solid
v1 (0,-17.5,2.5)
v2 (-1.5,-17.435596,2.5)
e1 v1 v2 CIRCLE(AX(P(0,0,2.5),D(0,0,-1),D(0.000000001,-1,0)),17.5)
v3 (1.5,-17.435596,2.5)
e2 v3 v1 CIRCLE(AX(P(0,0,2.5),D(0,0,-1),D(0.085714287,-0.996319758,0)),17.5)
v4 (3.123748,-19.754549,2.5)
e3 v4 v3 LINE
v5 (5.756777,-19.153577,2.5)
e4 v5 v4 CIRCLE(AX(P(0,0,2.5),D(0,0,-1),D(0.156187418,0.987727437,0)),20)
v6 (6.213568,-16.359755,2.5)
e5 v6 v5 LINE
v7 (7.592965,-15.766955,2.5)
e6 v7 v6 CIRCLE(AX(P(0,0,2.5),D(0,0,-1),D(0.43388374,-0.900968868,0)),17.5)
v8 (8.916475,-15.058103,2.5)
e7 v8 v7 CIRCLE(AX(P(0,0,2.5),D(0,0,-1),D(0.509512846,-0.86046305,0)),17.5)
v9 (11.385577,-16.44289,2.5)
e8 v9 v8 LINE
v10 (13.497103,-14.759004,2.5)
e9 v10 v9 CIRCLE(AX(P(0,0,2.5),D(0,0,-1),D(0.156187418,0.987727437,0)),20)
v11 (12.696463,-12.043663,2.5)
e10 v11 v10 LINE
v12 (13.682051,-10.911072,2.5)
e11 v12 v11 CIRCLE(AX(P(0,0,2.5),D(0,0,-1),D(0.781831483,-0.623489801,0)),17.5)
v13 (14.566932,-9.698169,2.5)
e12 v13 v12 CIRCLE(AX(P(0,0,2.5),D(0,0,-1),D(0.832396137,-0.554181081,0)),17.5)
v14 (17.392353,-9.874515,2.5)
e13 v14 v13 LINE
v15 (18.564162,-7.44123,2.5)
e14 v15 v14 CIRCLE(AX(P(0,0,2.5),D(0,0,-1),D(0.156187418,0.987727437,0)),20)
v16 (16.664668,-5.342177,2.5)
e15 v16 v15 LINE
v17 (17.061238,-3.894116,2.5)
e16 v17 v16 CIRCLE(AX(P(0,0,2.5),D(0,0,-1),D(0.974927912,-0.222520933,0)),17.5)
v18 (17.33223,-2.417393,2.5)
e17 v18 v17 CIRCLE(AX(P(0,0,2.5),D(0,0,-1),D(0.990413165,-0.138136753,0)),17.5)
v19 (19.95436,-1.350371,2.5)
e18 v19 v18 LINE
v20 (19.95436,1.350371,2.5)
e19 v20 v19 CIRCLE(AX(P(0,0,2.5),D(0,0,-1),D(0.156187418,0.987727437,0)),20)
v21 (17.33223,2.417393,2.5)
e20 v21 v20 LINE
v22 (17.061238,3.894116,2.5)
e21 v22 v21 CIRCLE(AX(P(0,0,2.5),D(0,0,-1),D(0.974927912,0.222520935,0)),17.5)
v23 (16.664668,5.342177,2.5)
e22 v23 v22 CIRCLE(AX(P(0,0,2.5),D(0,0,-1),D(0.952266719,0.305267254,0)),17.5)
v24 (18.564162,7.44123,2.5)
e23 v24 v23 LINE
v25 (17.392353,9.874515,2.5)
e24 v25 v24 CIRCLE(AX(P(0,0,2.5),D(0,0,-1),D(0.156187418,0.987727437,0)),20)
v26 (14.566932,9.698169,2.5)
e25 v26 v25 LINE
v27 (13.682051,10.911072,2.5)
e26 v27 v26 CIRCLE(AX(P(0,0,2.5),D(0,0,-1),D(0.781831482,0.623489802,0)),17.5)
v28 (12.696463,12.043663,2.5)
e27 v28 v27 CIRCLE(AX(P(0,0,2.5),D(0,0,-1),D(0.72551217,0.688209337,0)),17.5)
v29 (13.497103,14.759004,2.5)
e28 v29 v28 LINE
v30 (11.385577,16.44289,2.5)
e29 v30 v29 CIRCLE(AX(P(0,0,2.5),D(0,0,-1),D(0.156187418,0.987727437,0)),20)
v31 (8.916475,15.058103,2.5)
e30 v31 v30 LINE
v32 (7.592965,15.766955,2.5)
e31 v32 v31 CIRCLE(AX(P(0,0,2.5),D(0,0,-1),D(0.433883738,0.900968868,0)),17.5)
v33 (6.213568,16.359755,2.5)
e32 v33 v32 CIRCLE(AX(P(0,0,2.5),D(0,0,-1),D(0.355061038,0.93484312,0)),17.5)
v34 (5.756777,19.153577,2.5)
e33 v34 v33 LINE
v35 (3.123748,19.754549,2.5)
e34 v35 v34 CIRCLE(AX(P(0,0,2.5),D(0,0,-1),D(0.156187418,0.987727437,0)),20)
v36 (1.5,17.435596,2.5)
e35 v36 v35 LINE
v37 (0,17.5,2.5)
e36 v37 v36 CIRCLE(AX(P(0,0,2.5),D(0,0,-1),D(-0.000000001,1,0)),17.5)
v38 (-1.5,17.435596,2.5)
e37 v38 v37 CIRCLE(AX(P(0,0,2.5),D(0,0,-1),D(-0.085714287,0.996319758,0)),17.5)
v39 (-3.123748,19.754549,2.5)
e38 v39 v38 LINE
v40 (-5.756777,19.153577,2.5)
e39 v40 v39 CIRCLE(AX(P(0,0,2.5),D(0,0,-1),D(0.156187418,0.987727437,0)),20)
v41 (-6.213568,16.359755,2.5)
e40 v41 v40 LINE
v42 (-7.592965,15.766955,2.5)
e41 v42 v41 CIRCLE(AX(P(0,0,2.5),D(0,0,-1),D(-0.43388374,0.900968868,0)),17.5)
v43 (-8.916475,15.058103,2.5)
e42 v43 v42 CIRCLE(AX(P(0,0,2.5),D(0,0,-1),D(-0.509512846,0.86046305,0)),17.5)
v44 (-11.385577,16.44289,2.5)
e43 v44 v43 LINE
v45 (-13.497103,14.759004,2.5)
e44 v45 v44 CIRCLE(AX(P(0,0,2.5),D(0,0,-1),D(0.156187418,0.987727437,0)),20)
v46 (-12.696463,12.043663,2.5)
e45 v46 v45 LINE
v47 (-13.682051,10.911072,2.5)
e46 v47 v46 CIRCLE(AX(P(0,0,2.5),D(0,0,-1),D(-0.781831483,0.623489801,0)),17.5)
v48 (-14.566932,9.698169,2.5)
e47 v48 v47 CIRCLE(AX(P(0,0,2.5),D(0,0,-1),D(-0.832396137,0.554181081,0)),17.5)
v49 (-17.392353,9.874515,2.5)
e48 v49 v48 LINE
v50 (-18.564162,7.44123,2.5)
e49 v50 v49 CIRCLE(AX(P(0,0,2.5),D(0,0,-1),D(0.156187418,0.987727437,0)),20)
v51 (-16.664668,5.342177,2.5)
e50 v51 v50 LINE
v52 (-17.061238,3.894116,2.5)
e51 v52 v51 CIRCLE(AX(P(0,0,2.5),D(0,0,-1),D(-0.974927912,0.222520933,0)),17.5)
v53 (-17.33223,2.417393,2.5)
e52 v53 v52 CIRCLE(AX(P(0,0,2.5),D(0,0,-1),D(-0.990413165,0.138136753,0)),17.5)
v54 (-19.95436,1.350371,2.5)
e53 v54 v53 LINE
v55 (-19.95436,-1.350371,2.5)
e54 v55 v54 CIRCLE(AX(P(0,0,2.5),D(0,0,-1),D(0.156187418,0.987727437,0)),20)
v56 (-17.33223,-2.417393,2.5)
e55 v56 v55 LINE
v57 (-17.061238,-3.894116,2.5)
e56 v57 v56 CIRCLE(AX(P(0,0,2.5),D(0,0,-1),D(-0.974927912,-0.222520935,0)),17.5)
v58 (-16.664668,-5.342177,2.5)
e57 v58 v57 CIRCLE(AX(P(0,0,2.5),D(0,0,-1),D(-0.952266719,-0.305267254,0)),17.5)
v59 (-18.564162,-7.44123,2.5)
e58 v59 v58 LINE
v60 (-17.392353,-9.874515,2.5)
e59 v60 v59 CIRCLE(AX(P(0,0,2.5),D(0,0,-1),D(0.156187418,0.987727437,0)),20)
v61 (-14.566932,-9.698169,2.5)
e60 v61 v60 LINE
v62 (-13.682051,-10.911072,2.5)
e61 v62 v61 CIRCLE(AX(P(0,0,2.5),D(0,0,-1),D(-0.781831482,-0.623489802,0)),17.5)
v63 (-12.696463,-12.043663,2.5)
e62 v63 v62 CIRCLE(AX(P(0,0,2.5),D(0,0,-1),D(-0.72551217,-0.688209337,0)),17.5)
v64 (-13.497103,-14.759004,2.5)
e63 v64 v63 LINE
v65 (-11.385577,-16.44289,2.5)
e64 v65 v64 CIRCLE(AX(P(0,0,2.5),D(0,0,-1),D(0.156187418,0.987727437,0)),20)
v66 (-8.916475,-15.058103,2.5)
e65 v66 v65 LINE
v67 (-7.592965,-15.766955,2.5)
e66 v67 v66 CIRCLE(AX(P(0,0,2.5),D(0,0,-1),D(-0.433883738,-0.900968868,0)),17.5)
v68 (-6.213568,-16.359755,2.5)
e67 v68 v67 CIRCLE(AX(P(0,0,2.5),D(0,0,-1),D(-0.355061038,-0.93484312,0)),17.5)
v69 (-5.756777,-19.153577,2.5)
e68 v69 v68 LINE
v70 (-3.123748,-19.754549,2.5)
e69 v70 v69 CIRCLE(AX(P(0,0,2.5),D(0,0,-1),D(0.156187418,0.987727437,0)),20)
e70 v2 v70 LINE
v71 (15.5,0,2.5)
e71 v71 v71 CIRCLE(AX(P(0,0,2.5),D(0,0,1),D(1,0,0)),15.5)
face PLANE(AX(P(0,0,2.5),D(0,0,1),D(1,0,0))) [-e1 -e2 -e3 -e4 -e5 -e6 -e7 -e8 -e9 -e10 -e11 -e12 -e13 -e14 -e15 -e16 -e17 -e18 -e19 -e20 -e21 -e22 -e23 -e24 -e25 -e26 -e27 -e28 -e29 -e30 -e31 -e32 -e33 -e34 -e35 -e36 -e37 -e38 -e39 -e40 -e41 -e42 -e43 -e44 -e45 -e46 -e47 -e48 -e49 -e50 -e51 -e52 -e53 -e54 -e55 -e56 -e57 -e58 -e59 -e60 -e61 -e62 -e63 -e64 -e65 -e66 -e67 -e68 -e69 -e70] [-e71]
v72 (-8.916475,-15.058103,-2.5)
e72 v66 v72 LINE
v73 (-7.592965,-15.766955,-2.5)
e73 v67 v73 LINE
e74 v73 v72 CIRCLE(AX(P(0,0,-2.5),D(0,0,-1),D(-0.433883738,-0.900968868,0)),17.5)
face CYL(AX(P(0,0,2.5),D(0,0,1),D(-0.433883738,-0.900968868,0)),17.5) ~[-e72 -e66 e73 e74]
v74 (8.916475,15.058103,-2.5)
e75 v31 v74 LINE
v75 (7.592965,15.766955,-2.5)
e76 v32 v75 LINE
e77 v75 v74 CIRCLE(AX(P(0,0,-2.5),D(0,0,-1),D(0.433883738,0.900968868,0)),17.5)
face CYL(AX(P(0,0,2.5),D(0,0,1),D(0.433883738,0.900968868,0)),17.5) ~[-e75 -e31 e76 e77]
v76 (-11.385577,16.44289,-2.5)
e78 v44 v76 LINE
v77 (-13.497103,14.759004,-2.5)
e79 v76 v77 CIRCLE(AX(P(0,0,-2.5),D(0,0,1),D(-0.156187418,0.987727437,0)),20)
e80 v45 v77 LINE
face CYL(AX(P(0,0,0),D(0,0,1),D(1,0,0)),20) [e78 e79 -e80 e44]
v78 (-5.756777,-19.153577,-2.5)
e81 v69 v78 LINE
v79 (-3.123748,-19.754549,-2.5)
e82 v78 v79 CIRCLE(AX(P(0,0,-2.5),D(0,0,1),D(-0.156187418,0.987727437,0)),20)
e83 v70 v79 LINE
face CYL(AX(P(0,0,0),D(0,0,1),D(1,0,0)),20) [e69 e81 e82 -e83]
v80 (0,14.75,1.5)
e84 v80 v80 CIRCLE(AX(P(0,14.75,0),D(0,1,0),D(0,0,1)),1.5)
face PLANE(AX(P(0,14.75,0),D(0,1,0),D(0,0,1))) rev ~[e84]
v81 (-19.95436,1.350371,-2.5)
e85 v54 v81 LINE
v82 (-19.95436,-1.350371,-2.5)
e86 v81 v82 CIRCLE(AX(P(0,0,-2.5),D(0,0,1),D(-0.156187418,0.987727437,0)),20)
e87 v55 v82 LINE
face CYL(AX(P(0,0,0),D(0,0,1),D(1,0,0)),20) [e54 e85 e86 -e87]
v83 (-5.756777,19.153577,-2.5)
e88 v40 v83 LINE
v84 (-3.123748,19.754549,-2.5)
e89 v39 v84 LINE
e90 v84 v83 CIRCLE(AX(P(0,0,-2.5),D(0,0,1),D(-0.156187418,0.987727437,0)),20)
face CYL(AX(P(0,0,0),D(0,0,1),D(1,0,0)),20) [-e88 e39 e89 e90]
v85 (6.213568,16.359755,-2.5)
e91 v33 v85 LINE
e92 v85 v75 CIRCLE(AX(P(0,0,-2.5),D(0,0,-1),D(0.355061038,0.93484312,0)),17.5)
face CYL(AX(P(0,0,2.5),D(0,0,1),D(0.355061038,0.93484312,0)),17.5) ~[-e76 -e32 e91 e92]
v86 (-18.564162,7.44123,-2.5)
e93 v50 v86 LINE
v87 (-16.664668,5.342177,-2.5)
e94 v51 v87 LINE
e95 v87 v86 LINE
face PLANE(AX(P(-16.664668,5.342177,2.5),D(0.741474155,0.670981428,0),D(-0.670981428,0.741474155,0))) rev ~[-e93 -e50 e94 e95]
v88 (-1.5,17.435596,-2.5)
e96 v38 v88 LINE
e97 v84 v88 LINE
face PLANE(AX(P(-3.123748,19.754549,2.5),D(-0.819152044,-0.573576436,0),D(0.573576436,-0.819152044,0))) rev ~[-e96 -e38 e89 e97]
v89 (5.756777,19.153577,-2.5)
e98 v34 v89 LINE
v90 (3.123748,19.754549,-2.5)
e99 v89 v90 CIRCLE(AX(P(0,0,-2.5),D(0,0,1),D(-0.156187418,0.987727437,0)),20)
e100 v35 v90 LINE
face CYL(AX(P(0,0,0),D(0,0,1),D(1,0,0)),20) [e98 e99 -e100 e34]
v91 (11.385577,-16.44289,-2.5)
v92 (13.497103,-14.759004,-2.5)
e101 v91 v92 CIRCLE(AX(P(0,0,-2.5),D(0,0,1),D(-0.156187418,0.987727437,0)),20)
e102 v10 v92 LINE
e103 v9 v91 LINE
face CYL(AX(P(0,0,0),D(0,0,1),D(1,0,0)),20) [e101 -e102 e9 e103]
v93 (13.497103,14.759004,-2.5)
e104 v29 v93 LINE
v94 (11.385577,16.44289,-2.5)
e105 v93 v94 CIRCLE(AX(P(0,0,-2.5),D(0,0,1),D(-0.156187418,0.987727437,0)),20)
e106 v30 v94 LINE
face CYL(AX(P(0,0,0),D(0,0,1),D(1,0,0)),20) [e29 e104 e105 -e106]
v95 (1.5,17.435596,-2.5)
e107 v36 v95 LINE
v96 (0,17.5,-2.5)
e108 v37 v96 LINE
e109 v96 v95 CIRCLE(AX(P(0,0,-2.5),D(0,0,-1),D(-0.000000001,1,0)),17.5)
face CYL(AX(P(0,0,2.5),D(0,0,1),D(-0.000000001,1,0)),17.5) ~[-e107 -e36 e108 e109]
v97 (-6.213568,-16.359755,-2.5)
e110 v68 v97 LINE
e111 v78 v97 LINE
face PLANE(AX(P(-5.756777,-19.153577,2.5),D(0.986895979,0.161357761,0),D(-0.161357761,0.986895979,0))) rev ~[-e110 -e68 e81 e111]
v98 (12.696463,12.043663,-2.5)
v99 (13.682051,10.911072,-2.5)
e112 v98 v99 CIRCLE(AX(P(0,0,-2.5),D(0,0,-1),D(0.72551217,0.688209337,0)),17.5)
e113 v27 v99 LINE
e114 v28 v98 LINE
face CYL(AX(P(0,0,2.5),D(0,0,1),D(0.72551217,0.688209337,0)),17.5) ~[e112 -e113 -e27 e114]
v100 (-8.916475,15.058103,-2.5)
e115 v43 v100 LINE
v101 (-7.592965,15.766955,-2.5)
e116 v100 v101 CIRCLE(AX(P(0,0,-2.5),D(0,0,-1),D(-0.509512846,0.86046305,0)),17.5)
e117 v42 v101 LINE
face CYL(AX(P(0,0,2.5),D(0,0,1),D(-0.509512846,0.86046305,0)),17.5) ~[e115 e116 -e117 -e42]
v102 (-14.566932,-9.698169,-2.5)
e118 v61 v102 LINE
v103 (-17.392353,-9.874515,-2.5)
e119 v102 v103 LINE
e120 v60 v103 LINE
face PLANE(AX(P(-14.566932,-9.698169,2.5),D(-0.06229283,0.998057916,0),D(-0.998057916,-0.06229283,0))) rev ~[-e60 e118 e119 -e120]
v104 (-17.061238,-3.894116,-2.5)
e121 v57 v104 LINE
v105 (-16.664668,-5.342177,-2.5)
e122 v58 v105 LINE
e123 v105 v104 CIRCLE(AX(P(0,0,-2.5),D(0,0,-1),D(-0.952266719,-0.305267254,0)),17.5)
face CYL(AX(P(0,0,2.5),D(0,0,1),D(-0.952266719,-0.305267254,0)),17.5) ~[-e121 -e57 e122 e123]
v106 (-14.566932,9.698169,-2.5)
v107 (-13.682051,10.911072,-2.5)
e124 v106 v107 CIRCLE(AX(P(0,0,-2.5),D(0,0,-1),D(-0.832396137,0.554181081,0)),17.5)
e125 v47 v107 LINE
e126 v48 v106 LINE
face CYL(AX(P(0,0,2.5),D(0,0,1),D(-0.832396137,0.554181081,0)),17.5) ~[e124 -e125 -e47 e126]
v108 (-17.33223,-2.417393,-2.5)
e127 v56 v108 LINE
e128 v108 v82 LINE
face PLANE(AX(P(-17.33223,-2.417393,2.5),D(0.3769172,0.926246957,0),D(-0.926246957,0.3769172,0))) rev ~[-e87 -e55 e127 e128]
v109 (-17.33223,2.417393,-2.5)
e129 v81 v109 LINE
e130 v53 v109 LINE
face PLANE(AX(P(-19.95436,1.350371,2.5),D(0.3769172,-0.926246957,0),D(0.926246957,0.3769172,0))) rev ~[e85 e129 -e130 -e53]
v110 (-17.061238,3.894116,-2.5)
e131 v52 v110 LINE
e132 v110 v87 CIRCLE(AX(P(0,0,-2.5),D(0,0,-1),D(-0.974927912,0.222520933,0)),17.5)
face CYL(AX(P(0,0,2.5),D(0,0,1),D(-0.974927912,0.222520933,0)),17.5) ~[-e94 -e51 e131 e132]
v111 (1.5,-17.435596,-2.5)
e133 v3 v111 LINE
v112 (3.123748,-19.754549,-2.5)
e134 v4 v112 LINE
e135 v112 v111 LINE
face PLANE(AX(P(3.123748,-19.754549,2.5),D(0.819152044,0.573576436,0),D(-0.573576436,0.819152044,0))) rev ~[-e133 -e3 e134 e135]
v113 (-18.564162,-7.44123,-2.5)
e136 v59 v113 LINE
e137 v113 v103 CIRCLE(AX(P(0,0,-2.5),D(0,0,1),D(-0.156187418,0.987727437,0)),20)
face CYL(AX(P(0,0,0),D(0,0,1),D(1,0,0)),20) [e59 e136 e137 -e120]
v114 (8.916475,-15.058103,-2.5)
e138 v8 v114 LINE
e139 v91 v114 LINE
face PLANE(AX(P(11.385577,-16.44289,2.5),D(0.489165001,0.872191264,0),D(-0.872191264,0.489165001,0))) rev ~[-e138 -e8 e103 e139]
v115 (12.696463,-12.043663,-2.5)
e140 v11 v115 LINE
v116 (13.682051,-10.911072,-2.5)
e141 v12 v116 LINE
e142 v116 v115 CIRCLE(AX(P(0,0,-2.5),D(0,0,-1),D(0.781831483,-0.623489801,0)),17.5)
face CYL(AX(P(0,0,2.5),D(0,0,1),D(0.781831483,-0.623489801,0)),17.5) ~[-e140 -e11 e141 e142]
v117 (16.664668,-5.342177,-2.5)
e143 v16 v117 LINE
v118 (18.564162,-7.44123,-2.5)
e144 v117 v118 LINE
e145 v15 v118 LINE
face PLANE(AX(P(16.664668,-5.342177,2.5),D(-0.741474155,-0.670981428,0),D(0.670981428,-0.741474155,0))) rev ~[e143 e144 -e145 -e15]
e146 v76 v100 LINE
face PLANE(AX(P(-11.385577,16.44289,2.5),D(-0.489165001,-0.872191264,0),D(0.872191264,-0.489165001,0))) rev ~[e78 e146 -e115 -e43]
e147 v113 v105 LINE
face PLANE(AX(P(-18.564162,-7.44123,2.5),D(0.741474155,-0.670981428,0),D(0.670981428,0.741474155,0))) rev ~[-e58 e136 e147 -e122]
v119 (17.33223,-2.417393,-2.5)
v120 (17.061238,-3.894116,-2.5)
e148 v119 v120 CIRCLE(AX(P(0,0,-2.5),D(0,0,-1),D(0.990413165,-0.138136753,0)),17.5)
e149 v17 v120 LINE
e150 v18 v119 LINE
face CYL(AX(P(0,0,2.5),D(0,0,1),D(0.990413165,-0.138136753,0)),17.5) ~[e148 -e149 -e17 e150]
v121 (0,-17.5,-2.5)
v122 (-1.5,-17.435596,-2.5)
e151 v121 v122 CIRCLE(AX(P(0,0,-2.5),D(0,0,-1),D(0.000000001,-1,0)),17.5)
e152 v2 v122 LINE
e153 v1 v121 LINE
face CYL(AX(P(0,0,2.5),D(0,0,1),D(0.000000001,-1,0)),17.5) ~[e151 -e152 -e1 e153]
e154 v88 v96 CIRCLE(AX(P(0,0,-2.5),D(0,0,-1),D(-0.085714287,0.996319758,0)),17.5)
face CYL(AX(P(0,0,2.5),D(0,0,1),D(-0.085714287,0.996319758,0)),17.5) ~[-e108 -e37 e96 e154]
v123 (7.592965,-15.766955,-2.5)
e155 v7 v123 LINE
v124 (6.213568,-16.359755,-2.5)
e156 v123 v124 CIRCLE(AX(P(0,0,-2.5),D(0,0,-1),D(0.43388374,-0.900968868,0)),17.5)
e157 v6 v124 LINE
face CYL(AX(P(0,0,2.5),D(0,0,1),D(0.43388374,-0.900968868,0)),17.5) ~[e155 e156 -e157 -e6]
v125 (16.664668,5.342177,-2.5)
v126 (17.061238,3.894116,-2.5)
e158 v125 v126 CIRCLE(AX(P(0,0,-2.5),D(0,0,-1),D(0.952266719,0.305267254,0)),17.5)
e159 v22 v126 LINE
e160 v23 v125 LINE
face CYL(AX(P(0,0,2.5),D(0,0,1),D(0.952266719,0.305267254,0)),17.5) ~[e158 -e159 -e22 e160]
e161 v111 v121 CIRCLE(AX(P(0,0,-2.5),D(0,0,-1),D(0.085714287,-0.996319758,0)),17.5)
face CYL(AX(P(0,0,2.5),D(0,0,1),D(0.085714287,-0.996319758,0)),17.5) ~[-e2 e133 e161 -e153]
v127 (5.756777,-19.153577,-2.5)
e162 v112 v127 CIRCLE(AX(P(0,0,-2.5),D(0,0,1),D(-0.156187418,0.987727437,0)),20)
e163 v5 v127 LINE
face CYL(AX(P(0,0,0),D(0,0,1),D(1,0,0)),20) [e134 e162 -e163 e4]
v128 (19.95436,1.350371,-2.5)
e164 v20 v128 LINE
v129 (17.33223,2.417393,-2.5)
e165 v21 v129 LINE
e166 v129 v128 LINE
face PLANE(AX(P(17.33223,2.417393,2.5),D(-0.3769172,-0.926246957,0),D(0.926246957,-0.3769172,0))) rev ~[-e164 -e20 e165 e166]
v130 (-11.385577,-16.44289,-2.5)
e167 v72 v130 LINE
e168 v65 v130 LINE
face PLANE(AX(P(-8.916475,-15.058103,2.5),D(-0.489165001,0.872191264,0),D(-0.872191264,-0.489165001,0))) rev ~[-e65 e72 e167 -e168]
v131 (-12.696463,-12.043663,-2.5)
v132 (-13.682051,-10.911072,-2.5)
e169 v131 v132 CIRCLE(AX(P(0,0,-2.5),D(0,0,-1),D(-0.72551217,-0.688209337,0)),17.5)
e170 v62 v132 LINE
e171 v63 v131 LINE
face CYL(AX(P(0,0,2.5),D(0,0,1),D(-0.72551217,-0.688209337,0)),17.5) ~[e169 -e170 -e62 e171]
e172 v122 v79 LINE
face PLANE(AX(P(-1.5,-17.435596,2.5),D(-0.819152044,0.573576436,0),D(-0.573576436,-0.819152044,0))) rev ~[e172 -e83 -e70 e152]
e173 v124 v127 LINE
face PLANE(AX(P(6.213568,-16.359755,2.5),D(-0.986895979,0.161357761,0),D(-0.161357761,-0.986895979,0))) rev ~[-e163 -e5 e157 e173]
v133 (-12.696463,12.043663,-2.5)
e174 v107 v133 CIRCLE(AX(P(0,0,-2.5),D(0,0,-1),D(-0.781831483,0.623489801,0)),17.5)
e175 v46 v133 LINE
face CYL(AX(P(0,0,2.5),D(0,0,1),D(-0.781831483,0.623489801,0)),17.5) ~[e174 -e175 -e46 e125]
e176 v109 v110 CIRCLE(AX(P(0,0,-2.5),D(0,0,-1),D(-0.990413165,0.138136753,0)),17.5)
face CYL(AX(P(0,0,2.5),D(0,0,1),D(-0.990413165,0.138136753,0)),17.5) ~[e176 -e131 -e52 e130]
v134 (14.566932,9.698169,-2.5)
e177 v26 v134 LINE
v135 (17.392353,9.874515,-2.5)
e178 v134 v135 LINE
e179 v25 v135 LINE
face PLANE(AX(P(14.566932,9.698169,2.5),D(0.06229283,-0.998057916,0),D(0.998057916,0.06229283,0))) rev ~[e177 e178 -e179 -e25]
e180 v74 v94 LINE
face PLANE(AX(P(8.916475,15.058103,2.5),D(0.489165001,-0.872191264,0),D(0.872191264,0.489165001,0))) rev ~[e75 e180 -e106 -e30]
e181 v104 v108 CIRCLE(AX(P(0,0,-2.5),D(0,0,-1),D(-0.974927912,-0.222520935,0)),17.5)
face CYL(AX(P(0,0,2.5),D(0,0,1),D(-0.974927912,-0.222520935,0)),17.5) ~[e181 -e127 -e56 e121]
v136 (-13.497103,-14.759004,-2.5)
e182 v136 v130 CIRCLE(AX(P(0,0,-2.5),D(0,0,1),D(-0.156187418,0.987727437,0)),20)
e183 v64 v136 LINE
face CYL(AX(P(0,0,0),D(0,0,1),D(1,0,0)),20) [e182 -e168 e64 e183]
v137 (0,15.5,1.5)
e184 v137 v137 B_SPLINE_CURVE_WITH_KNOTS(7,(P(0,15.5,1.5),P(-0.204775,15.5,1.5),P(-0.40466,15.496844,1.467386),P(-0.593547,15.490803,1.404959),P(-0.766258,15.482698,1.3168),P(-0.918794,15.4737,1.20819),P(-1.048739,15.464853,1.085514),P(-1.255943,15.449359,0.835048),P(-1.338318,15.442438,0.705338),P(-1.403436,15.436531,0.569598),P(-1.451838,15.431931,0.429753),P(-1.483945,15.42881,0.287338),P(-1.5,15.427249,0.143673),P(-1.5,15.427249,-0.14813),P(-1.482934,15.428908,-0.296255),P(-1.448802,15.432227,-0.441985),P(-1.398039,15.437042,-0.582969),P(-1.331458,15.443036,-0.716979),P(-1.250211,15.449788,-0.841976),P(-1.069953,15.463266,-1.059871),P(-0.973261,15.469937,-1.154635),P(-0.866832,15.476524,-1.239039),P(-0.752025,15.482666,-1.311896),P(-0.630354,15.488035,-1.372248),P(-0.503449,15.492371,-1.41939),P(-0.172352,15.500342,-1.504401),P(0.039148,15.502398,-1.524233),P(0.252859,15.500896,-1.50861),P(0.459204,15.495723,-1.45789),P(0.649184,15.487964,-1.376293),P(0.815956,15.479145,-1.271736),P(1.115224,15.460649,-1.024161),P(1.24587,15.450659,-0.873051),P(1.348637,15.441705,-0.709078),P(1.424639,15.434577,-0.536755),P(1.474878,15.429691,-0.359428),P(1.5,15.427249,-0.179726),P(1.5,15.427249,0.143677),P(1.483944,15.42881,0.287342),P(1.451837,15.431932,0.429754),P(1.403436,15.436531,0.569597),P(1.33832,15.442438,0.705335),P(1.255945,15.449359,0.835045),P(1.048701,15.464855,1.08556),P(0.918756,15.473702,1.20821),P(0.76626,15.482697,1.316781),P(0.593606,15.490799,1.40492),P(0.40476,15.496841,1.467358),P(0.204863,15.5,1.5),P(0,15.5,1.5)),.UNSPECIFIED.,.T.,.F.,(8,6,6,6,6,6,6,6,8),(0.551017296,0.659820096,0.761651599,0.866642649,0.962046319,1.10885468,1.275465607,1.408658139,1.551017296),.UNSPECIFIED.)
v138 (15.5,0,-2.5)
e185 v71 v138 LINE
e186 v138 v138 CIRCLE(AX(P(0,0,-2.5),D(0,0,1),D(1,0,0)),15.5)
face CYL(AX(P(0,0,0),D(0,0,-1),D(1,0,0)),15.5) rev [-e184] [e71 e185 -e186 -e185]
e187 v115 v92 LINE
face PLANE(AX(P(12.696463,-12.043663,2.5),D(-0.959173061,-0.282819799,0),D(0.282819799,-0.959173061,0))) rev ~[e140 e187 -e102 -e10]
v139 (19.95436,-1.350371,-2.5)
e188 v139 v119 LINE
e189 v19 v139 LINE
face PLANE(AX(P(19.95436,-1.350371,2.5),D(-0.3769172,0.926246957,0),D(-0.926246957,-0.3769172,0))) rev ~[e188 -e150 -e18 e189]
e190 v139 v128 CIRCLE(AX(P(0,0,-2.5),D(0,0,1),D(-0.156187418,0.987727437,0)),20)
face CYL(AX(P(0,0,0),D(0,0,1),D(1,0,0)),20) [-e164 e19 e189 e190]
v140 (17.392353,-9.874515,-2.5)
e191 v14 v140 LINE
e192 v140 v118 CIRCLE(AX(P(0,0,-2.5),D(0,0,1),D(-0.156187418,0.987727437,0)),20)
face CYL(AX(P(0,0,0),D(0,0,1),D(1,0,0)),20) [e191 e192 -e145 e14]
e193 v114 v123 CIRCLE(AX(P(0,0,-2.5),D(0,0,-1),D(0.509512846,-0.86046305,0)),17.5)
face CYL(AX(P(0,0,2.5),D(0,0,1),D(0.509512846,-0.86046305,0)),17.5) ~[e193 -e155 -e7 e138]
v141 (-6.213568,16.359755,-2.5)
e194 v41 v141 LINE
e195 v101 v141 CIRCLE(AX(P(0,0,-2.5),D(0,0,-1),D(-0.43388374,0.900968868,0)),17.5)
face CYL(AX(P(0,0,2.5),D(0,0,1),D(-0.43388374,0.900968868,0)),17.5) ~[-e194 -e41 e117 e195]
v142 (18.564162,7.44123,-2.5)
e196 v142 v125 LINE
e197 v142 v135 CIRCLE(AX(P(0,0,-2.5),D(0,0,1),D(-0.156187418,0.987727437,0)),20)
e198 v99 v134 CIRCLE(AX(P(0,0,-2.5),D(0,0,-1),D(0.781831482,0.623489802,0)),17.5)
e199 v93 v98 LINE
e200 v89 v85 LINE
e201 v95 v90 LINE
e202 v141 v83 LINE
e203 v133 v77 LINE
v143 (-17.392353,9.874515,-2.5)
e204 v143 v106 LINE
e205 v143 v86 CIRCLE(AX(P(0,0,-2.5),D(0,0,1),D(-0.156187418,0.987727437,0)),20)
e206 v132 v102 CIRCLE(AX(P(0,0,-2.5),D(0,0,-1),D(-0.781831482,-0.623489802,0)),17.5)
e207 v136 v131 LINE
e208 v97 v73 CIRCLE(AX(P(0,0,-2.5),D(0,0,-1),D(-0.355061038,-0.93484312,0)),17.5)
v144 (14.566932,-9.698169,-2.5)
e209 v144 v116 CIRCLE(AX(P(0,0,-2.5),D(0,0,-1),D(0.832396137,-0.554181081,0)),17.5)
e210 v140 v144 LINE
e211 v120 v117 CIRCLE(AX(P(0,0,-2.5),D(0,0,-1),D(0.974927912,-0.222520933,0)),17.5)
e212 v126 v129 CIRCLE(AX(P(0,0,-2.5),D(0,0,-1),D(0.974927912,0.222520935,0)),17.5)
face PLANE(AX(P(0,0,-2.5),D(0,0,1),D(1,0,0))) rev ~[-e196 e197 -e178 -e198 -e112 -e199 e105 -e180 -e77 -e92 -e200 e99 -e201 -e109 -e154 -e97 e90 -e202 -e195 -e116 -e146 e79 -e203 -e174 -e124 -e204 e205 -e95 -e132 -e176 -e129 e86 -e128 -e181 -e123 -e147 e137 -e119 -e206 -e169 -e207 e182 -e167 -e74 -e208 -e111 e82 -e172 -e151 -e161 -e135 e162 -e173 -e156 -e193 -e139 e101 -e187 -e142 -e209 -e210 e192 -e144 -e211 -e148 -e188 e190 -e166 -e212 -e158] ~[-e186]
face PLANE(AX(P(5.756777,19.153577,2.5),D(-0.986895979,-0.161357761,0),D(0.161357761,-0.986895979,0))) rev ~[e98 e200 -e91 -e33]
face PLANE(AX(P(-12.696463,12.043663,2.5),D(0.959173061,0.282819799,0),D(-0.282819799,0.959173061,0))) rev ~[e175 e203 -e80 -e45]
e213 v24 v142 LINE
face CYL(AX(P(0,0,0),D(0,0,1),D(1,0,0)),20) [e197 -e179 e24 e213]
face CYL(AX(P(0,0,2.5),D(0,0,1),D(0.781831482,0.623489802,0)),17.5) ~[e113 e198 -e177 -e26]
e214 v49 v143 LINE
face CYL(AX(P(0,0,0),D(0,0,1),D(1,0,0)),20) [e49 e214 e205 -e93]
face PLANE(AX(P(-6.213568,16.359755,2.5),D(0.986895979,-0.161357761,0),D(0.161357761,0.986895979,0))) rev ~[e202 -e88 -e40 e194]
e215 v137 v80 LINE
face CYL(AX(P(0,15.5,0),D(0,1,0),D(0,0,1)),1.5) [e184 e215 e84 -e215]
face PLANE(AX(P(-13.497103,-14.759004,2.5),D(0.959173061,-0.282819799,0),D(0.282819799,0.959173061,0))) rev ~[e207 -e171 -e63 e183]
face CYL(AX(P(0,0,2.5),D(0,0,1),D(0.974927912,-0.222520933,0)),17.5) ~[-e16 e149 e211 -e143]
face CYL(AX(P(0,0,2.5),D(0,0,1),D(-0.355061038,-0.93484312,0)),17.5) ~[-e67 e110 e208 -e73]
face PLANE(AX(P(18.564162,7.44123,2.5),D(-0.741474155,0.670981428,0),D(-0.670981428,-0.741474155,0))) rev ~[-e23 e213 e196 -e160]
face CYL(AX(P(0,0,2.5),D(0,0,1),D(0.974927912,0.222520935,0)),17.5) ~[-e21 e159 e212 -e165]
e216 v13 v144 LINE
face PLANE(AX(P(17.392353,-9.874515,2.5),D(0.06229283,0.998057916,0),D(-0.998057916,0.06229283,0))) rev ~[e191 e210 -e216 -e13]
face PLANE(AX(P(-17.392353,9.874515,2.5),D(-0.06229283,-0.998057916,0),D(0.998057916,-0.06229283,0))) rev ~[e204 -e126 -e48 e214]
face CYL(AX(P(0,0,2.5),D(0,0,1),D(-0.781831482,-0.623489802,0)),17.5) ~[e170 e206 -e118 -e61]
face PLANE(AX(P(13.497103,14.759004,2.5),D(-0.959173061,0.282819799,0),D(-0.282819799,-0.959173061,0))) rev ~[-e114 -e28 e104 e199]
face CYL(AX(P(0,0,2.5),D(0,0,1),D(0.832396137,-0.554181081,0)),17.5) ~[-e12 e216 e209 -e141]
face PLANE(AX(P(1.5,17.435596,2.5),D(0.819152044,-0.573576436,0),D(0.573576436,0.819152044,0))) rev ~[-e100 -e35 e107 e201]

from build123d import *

# Parameters (mm, degrees)
SKETCH1_R           = 20
SKETCH1_R_2         = 15.5
BOSS_EXTRUDE1_DEPTH = 2.5
CUT_EXTRUDE1_DEPTH  = 5
CIRPATTERN1_COUNT   = 14
SKETCH6_R           = 1.5
BOSS_EXTRUDE2_DEPTH = 0.75


with BuildPart() as part:
    # Sketch1 → Boss-Extrude1 (new, symmetric)
    with BuildSketch(Plane.XY):
        Circle(SKETCH1_R)
        Circle(SKETCH1_R_2, mode=Mode.SUBTRACT)
    extrude(amount=BOSS_EXTRUDE1_DEPTH, both=True)

    # Sketch2 → Cut-Extrude1 (cut)
    with BuildSketch(Plane.XY.offset(2.5)):
        with BuildLine():
            ThreePointArc((-1.5, 17.435595774), (-0.750690999, 17.48389153), (0, 17.5))
            Line((0, 17.5), (0, 20))
            ThreePointArc((0, 20), (-1.566688393, 19.938542762), (-3.123748353, 19.754548748))
            Line((-3.123748353, 19.754548748), (-1.5, 17.435595774))
        make_face()
        with BuildLine():
            Line((0, 20), (0, 17.5))
            ThreePointArc((0, 17.5), (0.750690999, 17.48389153), (1.5, 17.435595774))
            Line((1.5, 17.435595774), (3.123748353, 19.754548748))
            ThreePointArc((3.123748353, 19.754548748), (1.566688393, 19.938542762), (0, 20))
        make_face()
    cut_extrude1 = extrude(amount=-CUT_EXTRUDE1_DEPTH, mode=Mode.SUBTRACT)

    # CirPattern1: Cut-Extrude1 ×14 about axis
    cirpattern1_axis = Axis((0, 0, 0), (0, 0, 1))
    for i in range(1, CIRPATTERN1_COUNT):
        add(cut_extrude1.rotate(cirpattern1_axis, i * 360 / CIRPATTERN1_COUNT), mode=Mode.SUBTRACT)

    # Sketch6 → Boss-Extrude2 (add)
    with BuildSketch(Plane(origin=(0, 15.5, 0), x_dir=(1, 0, 0), z_dir=(0, 1, 0))):
        with Locations(Location((0, 0, 0), (0, 0, 270))):
            Circle(SKETCH6_R)
    extrude(amount=-BOSS_EXTRUDE2_DEPTH)


solid = part.part
